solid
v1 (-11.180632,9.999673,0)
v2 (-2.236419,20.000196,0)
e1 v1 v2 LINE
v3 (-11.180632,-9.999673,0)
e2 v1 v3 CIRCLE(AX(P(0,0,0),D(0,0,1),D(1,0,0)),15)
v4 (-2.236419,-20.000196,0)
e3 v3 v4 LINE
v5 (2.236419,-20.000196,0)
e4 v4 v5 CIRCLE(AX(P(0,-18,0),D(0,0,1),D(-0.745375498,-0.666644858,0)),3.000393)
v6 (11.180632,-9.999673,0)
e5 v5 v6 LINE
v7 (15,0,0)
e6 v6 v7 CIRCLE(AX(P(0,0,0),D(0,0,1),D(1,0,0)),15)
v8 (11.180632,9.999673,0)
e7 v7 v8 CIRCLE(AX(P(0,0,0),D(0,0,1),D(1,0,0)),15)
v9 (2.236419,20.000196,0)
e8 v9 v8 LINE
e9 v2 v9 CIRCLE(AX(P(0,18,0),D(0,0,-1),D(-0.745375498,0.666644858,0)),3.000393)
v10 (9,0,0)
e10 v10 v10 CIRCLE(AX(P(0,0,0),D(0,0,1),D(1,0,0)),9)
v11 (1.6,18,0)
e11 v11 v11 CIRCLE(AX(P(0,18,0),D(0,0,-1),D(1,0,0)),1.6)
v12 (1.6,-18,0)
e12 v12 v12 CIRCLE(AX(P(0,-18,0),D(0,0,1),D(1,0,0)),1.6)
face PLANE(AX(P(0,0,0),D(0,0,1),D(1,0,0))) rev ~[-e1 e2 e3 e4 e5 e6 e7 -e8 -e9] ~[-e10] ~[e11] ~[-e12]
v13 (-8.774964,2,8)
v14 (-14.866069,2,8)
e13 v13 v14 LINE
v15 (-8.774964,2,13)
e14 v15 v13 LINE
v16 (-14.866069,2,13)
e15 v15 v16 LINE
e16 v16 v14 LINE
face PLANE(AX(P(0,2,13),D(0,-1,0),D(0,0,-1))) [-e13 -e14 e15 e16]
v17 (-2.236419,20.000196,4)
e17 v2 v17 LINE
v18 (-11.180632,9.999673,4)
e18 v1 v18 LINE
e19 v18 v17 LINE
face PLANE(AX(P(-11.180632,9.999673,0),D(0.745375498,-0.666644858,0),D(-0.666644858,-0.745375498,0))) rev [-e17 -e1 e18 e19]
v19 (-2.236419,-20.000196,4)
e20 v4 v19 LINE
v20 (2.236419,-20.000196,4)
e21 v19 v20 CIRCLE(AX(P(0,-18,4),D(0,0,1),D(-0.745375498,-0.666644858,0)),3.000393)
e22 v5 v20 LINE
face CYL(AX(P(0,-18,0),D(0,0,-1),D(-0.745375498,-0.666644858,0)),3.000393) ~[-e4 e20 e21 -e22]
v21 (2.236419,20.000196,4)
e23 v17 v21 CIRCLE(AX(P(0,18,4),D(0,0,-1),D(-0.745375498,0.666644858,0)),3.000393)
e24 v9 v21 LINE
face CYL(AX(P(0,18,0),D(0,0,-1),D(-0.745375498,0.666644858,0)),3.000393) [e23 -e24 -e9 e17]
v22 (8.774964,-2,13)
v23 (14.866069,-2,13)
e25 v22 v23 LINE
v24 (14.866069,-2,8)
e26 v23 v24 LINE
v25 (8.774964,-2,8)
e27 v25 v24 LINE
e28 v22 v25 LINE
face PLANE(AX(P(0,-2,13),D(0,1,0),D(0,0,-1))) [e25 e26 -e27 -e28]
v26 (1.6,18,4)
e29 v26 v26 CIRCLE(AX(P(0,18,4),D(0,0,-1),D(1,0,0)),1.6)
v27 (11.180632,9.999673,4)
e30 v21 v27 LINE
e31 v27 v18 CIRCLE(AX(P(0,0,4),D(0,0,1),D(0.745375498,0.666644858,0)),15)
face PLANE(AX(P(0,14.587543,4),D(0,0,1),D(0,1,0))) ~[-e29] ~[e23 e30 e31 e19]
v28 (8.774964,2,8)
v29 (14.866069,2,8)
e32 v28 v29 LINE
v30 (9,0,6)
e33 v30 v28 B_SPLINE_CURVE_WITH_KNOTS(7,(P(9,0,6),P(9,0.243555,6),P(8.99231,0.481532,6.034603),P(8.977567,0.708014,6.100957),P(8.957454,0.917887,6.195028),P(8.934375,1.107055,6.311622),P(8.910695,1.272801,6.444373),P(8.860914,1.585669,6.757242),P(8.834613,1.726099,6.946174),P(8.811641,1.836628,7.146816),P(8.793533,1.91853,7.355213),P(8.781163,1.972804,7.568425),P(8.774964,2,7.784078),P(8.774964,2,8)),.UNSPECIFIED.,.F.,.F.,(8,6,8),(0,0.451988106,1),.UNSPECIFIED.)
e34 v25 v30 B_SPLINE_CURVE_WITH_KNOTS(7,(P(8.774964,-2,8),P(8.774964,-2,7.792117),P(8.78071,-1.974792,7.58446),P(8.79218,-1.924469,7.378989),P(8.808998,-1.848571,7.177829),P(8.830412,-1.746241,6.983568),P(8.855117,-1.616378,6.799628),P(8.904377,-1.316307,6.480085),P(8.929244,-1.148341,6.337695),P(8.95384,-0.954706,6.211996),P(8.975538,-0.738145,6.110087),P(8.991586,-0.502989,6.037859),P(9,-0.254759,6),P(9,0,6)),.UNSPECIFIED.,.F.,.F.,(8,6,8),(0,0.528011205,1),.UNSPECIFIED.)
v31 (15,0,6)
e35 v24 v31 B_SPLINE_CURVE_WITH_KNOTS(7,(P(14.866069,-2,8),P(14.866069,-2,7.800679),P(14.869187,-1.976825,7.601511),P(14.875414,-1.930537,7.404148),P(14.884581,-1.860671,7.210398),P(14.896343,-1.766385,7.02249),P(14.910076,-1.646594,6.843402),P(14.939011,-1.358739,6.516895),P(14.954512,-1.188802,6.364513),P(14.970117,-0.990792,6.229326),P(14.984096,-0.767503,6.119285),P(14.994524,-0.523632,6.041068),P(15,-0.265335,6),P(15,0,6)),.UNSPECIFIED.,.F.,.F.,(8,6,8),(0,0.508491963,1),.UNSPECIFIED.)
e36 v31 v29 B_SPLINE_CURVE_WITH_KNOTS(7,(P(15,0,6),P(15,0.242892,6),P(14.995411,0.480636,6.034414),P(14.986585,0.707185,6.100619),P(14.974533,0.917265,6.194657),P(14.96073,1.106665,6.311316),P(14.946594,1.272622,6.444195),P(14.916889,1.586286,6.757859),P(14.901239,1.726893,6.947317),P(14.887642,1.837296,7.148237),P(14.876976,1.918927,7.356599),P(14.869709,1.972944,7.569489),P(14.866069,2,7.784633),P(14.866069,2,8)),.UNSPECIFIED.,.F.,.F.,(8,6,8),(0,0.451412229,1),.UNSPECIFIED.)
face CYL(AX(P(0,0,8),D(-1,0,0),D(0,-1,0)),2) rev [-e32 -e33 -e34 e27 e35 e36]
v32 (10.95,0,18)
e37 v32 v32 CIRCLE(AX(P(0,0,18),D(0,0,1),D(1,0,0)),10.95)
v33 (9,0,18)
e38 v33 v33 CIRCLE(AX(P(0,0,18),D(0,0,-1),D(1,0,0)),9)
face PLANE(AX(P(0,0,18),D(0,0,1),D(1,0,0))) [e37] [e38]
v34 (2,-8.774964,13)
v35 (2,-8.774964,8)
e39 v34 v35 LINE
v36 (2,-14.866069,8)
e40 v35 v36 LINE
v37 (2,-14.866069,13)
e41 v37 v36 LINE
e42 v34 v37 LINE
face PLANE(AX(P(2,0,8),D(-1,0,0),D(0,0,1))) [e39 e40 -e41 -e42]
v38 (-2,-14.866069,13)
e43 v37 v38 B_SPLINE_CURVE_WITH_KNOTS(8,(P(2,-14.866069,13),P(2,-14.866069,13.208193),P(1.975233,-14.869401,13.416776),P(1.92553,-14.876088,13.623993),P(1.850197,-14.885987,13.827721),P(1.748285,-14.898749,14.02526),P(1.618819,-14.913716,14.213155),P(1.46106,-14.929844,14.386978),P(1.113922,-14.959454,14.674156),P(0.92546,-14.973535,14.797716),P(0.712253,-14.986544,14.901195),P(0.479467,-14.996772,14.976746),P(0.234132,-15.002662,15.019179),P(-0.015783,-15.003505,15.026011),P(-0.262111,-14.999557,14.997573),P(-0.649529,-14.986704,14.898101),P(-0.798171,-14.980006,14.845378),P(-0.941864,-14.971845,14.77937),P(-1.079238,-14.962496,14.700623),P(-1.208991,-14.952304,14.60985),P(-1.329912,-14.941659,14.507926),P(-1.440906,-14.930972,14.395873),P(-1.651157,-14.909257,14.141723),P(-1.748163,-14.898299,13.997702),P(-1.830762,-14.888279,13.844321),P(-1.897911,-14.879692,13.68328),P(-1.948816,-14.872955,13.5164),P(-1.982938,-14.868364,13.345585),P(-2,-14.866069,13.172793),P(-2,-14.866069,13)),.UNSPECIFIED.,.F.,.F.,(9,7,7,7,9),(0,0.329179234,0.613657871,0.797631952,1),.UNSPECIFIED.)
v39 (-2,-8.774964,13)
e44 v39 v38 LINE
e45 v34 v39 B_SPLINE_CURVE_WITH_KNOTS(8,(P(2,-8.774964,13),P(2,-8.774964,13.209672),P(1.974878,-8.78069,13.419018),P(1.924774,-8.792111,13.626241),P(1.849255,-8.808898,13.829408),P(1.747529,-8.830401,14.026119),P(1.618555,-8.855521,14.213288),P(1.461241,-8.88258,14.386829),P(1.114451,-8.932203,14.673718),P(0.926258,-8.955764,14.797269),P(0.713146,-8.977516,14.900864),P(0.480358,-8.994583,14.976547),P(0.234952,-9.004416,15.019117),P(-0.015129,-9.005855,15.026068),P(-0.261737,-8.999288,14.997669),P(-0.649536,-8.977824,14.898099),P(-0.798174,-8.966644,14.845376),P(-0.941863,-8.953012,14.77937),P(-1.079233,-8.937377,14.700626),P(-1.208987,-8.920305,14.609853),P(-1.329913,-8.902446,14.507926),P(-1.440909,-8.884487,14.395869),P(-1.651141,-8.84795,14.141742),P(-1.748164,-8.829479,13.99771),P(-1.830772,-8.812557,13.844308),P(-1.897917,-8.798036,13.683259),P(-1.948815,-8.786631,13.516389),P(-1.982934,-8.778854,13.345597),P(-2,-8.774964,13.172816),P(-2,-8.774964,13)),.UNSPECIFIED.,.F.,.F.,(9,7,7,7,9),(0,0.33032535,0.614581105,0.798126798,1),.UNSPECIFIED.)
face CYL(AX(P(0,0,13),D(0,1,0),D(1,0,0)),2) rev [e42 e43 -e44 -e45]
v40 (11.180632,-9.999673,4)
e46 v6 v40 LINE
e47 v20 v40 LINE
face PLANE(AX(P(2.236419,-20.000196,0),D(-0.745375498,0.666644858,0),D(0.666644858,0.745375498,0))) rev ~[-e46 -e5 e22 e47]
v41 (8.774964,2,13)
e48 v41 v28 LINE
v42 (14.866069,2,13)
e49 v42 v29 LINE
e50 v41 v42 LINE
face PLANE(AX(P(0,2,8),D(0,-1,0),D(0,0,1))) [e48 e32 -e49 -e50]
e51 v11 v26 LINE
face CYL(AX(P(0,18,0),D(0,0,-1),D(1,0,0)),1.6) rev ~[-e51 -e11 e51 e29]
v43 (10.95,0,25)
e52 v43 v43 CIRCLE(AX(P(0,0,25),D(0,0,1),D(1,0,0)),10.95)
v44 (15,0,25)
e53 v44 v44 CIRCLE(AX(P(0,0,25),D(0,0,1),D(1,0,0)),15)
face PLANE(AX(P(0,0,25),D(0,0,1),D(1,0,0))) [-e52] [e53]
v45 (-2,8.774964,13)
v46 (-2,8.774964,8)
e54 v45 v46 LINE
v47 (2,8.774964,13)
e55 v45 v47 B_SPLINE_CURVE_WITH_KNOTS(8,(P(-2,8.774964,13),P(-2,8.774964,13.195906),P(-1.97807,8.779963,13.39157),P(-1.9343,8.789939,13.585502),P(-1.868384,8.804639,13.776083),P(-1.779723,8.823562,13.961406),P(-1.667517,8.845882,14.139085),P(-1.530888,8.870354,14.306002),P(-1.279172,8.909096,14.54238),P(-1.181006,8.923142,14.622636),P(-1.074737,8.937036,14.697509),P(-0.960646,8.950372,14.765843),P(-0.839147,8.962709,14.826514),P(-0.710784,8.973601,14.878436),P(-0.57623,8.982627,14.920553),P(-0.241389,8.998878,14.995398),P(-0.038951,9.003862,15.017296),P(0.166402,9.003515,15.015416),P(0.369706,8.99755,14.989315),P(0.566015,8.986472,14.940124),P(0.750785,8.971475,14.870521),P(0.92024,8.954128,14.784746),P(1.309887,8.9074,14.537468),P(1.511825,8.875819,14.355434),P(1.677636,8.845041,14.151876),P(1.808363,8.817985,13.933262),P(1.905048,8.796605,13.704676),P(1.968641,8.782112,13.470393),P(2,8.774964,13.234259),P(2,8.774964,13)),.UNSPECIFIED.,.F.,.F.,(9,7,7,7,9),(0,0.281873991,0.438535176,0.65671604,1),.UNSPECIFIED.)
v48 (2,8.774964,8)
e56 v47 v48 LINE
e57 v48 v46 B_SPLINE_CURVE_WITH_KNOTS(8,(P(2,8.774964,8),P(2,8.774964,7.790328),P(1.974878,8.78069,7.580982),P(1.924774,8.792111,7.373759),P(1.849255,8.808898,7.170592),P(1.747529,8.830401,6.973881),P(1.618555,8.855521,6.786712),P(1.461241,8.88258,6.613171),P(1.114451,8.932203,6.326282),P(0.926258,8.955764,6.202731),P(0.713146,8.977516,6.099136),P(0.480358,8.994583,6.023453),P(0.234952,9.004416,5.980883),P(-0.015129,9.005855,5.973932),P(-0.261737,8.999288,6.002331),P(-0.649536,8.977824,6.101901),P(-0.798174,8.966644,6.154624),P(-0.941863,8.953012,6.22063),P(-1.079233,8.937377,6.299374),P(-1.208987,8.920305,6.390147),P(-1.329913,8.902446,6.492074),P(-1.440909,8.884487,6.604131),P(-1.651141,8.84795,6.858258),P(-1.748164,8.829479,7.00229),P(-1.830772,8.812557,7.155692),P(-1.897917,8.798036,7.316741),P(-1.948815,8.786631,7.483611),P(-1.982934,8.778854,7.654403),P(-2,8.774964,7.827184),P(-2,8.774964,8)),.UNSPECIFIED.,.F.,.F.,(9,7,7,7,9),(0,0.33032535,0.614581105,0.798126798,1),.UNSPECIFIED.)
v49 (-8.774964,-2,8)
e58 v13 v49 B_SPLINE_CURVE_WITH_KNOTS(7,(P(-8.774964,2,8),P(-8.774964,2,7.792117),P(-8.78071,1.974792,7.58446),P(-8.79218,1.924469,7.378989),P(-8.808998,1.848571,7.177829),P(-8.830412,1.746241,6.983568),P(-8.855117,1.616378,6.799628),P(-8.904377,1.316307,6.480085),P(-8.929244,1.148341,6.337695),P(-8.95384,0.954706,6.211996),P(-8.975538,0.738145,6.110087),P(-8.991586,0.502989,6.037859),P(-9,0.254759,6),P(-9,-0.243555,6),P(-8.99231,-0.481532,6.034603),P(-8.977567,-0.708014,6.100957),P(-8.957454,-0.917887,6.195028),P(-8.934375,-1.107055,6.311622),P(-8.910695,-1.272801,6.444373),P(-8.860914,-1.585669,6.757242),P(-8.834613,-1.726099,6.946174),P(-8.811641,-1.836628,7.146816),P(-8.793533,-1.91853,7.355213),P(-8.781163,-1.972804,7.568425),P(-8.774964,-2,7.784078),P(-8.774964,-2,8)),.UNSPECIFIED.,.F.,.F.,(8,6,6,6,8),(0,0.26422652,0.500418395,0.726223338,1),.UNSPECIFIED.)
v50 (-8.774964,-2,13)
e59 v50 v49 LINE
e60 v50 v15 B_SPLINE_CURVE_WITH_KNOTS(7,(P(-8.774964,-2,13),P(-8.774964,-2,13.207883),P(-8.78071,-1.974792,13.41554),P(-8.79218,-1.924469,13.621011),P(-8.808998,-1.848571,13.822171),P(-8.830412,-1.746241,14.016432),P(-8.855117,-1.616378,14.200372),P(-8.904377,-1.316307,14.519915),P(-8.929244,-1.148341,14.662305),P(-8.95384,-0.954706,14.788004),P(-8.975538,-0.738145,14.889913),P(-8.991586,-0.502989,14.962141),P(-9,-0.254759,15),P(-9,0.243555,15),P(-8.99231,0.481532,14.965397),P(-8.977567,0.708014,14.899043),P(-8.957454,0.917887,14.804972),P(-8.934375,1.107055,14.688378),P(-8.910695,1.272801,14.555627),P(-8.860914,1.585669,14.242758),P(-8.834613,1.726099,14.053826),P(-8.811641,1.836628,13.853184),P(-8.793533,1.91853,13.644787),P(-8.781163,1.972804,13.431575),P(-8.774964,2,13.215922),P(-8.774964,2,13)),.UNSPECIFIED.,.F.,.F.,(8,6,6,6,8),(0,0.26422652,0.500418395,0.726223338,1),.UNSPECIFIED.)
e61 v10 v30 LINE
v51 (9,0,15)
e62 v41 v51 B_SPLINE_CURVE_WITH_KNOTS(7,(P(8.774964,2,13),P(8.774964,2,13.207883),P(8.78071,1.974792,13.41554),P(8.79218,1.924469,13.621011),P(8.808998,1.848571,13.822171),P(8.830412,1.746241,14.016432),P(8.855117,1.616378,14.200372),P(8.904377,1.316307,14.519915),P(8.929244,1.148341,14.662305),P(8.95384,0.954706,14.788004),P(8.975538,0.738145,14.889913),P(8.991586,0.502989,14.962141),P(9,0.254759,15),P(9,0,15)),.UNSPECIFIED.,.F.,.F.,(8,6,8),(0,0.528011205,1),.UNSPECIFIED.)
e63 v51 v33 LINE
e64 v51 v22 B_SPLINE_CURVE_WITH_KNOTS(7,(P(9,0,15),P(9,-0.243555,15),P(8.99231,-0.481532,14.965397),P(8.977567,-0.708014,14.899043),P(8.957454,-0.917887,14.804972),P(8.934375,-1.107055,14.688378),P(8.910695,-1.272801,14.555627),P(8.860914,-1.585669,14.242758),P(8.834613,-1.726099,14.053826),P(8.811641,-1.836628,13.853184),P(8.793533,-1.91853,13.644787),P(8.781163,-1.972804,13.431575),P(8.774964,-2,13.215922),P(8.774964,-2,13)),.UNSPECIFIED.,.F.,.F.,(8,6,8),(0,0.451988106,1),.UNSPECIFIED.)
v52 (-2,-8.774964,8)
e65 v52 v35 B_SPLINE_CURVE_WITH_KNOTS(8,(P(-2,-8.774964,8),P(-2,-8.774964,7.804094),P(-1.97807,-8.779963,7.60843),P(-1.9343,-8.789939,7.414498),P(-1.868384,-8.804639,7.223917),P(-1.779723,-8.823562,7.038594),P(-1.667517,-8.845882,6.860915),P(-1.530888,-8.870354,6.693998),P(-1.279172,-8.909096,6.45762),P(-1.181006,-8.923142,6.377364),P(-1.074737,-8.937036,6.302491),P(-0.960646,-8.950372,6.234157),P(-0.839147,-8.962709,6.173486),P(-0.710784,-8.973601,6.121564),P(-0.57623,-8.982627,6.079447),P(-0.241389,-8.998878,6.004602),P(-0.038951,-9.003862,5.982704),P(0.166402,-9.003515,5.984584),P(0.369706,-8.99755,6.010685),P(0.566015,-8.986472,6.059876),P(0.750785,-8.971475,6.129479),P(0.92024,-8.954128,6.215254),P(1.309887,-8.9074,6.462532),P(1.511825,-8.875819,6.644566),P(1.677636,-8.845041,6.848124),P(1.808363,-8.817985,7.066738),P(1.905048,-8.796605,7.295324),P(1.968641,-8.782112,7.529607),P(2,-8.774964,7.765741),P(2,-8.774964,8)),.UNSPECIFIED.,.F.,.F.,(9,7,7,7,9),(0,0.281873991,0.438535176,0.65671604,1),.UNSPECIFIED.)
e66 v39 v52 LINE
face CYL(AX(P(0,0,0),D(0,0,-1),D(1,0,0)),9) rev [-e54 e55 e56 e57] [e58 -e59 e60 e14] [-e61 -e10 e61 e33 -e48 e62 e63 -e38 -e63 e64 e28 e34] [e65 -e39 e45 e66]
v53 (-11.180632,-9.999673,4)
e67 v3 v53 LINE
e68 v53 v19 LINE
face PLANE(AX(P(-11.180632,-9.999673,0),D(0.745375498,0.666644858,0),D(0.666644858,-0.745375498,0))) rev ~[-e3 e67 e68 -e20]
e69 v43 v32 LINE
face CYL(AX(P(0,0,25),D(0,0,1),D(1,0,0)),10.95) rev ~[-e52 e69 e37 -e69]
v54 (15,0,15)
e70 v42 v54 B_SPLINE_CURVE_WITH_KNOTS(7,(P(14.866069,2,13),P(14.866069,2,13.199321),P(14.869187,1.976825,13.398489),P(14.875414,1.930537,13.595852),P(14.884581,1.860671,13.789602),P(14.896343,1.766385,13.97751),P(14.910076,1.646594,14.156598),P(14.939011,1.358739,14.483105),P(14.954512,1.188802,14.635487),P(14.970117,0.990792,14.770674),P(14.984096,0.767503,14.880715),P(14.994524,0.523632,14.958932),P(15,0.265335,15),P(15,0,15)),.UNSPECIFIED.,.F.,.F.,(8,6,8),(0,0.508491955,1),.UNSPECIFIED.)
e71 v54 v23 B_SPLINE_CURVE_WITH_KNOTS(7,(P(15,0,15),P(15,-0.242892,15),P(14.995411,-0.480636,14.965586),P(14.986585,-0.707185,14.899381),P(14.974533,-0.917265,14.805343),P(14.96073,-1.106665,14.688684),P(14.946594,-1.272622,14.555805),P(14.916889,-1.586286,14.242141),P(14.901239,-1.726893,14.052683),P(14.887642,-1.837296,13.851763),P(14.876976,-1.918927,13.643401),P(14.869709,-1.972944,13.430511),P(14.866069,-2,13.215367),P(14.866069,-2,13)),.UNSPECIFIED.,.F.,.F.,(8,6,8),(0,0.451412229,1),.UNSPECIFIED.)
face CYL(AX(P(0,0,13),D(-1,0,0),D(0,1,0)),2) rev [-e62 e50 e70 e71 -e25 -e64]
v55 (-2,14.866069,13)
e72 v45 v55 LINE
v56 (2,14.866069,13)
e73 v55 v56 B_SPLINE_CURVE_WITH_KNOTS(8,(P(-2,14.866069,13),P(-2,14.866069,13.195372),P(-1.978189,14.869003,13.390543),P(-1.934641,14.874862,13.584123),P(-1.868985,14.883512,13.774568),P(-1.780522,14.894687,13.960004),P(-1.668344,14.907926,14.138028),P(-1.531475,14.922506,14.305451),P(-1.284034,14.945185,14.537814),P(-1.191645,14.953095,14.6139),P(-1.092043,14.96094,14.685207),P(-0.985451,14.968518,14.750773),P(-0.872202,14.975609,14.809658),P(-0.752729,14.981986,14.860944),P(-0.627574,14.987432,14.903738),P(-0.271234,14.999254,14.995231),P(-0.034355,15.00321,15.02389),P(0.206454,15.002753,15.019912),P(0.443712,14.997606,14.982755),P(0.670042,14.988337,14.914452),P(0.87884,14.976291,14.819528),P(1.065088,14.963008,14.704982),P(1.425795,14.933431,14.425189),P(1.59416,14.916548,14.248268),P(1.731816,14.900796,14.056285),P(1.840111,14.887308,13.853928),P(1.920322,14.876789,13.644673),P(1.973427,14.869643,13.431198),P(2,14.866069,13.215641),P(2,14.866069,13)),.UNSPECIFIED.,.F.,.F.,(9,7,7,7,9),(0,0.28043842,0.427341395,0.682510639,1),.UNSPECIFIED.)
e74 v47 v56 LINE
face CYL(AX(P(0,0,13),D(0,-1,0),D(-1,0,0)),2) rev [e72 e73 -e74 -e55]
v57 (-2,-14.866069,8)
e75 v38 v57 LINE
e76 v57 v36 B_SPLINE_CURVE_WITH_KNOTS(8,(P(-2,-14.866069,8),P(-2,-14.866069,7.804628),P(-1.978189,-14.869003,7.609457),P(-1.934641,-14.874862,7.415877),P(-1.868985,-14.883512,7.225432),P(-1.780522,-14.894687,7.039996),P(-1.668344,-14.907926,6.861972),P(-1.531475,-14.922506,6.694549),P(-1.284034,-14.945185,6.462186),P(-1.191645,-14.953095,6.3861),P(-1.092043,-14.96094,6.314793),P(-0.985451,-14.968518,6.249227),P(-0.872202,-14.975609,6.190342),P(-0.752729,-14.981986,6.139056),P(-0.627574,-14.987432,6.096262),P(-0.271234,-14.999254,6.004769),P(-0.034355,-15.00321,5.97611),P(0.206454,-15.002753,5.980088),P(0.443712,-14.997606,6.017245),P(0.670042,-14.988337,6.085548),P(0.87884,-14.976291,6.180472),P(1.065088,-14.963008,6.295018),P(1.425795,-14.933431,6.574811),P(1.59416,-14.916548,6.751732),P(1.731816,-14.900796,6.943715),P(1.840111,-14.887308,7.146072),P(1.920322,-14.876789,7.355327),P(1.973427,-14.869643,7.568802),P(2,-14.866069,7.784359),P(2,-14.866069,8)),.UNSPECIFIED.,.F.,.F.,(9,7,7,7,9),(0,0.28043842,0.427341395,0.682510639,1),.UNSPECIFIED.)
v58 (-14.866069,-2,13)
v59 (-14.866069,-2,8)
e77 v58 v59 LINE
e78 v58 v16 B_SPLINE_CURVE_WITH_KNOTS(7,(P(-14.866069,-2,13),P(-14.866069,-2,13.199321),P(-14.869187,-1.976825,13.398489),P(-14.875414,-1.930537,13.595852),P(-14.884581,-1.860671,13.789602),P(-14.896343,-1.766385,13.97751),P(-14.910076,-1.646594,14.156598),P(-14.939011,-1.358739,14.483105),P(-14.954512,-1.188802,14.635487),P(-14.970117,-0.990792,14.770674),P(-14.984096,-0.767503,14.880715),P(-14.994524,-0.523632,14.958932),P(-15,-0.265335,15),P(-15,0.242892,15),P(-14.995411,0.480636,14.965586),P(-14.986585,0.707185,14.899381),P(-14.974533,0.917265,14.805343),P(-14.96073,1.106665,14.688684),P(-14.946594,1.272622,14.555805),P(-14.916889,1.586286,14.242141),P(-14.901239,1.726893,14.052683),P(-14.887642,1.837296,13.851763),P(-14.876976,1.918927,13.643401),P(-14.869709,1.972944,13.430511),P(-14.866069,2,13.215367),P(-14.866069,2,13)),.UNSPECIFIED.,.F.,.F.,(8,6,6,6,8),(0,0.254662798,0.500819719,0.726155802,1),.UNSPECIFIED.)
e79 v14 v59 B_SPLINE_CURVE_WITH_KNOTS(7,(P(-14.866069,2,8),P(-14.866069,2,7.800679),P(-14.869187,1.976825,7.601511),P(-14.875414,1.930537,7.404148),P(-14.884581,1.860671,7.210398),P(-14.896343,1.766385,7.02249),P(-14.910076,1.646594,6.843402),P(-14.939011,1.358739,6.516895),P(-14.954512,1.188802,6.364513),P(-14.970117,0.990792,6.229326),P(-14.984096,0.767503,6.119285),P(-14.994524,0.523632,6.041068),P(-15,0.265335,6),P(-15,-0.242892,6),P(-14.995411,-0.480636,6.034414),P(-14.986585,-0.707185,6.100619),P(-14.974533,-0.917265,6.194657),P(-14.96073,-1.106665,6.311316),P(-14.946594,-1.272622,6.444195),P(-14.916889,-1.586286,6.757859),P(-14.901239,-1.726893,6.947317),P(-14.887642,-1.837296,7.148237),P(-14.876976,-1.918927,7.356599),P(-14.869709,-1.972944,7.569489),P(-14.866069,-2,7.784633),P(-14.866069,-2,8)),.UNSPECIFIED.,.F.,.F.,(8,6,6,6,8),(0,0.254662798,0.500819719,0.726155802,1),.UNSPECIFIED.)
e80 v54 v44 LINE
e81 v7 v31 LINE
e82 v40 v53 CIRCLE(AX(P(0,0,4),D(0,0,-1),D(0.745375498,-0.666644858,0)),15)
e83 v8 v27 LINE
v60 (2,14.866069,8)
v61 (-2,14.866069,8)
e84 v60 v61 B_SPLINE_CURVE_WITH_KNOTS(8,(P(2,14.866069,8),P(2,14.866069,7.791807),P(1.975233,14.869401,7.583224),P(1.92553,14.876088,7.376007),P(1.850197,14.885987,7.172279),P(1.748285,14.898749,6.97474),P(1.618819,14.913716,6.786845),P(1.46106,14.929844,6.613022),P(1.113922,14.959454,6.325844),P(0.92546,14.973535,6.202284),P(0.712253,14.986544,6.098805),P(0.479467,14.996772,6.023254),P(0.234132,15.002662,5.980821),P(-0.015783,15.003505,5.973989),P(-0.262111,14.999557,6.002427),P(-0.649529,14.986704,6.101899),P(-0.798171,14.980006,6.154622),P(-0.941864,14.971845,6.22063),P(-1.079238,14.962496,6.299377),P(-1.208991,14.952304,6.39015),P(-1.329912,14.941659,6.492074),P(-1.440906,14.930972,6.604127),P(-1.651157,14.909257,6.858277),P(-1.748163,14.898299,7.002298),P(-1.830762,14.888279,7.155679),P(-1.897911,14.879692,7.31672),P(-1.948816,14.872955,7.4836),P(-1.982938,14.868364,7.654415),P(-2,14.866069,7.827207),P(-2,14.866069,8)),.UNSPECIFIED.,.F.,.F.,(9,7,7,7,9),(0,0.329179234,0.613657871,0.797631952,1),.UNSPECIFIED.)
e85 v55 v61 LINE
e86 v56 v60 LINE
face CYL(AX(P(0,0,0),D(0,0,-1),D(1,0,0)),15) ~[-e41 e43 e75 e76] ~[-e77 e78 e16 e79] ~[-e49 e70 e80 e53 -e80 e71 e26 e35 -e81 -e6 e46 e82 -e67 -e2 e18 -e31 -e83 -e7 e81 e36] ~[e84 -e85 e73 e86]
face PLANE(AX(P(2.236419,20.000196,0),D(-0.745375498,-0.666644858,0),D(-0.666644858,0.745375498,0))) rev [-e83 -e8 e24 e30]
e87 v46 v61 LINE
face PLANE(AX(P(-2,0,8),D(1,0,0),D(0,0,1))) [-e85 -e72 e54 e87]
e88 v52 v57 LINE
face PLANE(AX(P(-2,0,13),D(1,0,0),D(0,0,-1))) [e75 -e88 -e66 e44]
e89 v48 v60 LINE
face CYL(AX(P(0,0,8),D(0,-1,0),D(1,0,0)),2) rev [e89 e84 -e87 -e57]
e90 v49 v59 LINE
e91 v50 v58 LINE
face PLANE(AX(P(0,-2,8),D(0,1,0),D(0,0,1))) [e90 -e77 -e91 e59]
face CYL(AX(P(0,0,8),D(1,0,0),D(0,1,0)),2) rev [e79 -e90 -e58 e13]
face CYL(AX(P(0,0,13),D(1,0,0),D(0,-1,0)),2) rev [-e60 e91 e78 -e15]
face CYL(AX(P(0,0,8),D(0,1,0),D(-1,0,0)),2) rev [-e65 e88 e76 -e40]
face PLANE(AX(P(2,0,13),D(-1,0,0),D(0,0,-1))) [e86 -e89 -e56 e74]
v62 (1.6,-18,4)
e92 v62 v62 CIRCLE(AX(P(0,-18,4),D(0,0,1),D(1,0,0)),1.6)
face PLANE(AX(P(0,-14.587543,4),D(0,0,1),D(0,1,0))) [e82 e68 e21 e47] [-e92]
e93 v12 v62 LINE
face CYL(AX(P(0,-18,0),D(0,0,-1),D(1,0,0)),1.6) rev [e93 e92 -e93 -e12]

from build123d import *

# Parameters (mm, degrees)
CROQUIS1_R              = 15
CROQUIS1_R_2            = 9
SALIENTE_EXTRUIR1_DEPTH = 25
CROQUIS2_R              = 10.95
CORTAR_EXTRUIR1_DEPTH   = 7
CROQUIS3_R              = 1.6
SALIENTE_EXTRUIR2_DEPTH = 4
CORTAR_EXTRUIR2_DEPTH   = 26
MATRIZC1_COUNT          = 4


with BuildPart() as part:
    # Croquis1 → Saliente-Extruir1 (new body)
    with BuildSketch(Plane(origin=(0, 0, 0), x_dir=(0, 1, 0), z_dir=(0, 0, 1))):
        with Locations(Location((0, 0, 0), (0, 0, 270))):
            Circle(CROQUIS1_R)
        with Locations(Location((0, 0, 0), (0, 0, 270))):
            Circle(CROQUIS1_R_2, mode=Mode.SUBTRACT)
    extrude(amount=SALIENTE_EXTRUIR1_DEPTH)

    # Croquis2 → Cortar-Extruir1 (cut)
    with BuildSketch(Plane.XY.offset(25)):
        Circle(CROQUIS2_R)
    extrude(amount=-CORTAR_EXTRUIR1_DEPTH, mode=Mode.SUBTRACT)

    # Croquis3 → Saliente-Extruir2 (add)
    with BuildSketch(Plane(origin=(0, 0, 0), x_dir=(0, 1, 0), z_dir=(0, 0, 1))):
        with BuildLine():
            Line((-20.000196267, -2.236419092), (-9.999672874, -11.180632469))
            ThreePointArc((-9.999672874, -11.180632469), (-15, 0), (-9.999672874, 11.180632469))
            Line((-9.999672874, 11.180632469), (-20.000196267, 2.236419092))
            ThreePointArc((-20.000196267, 2.236419092), (-21.000392551, 0), (-20.000196267, -2.236419092))
        make_face()
        with Locations(Location((-18, 0, 0), (0, 0, 270))):
            Circle(CROQUIS3_R, mode=Mode.SUBTRACT)
    saliente_extruir2 = extrude(amount=SALIENTE_EXTRUIR2_DEPTH)

    # Simetría1: Saliente-Extruir2 across plane
    add(saliente_extruir2.mirror(Plane.ZX))

    # Croquis4 → Cortar-Extruir2 (cut)
    with BuildSketch(Plane.YZ):
        with BuildLine():
            Line((-2, 8), (-2, 13))
            ThreePointArc((-2, 13), (0, 15), (2, 13))
            Line((2, 13), (2, 8))
            ThreePointArc((2, 8), (0, 6), (-2, 8))
        make_face()
    cortar_extruir2 = extrude(amount=-CORTAR_EXTRUIR2_DEPTH, mode=Mode.SUBTRACT)

    # MatrizC1: Cortar-Extruir2 ×4 about axis
    matrizc1_axis = Axis((0, 0, 0), (0, 0, 1))
    for i in range(1, MATRIZC1_COUNT):
        add(cortar_extruir2.rotate(matrizc1_axis, i * 360 / MATRIZC1_COUNT), mode=Mode.SUBTRACT)


solid = part.part
